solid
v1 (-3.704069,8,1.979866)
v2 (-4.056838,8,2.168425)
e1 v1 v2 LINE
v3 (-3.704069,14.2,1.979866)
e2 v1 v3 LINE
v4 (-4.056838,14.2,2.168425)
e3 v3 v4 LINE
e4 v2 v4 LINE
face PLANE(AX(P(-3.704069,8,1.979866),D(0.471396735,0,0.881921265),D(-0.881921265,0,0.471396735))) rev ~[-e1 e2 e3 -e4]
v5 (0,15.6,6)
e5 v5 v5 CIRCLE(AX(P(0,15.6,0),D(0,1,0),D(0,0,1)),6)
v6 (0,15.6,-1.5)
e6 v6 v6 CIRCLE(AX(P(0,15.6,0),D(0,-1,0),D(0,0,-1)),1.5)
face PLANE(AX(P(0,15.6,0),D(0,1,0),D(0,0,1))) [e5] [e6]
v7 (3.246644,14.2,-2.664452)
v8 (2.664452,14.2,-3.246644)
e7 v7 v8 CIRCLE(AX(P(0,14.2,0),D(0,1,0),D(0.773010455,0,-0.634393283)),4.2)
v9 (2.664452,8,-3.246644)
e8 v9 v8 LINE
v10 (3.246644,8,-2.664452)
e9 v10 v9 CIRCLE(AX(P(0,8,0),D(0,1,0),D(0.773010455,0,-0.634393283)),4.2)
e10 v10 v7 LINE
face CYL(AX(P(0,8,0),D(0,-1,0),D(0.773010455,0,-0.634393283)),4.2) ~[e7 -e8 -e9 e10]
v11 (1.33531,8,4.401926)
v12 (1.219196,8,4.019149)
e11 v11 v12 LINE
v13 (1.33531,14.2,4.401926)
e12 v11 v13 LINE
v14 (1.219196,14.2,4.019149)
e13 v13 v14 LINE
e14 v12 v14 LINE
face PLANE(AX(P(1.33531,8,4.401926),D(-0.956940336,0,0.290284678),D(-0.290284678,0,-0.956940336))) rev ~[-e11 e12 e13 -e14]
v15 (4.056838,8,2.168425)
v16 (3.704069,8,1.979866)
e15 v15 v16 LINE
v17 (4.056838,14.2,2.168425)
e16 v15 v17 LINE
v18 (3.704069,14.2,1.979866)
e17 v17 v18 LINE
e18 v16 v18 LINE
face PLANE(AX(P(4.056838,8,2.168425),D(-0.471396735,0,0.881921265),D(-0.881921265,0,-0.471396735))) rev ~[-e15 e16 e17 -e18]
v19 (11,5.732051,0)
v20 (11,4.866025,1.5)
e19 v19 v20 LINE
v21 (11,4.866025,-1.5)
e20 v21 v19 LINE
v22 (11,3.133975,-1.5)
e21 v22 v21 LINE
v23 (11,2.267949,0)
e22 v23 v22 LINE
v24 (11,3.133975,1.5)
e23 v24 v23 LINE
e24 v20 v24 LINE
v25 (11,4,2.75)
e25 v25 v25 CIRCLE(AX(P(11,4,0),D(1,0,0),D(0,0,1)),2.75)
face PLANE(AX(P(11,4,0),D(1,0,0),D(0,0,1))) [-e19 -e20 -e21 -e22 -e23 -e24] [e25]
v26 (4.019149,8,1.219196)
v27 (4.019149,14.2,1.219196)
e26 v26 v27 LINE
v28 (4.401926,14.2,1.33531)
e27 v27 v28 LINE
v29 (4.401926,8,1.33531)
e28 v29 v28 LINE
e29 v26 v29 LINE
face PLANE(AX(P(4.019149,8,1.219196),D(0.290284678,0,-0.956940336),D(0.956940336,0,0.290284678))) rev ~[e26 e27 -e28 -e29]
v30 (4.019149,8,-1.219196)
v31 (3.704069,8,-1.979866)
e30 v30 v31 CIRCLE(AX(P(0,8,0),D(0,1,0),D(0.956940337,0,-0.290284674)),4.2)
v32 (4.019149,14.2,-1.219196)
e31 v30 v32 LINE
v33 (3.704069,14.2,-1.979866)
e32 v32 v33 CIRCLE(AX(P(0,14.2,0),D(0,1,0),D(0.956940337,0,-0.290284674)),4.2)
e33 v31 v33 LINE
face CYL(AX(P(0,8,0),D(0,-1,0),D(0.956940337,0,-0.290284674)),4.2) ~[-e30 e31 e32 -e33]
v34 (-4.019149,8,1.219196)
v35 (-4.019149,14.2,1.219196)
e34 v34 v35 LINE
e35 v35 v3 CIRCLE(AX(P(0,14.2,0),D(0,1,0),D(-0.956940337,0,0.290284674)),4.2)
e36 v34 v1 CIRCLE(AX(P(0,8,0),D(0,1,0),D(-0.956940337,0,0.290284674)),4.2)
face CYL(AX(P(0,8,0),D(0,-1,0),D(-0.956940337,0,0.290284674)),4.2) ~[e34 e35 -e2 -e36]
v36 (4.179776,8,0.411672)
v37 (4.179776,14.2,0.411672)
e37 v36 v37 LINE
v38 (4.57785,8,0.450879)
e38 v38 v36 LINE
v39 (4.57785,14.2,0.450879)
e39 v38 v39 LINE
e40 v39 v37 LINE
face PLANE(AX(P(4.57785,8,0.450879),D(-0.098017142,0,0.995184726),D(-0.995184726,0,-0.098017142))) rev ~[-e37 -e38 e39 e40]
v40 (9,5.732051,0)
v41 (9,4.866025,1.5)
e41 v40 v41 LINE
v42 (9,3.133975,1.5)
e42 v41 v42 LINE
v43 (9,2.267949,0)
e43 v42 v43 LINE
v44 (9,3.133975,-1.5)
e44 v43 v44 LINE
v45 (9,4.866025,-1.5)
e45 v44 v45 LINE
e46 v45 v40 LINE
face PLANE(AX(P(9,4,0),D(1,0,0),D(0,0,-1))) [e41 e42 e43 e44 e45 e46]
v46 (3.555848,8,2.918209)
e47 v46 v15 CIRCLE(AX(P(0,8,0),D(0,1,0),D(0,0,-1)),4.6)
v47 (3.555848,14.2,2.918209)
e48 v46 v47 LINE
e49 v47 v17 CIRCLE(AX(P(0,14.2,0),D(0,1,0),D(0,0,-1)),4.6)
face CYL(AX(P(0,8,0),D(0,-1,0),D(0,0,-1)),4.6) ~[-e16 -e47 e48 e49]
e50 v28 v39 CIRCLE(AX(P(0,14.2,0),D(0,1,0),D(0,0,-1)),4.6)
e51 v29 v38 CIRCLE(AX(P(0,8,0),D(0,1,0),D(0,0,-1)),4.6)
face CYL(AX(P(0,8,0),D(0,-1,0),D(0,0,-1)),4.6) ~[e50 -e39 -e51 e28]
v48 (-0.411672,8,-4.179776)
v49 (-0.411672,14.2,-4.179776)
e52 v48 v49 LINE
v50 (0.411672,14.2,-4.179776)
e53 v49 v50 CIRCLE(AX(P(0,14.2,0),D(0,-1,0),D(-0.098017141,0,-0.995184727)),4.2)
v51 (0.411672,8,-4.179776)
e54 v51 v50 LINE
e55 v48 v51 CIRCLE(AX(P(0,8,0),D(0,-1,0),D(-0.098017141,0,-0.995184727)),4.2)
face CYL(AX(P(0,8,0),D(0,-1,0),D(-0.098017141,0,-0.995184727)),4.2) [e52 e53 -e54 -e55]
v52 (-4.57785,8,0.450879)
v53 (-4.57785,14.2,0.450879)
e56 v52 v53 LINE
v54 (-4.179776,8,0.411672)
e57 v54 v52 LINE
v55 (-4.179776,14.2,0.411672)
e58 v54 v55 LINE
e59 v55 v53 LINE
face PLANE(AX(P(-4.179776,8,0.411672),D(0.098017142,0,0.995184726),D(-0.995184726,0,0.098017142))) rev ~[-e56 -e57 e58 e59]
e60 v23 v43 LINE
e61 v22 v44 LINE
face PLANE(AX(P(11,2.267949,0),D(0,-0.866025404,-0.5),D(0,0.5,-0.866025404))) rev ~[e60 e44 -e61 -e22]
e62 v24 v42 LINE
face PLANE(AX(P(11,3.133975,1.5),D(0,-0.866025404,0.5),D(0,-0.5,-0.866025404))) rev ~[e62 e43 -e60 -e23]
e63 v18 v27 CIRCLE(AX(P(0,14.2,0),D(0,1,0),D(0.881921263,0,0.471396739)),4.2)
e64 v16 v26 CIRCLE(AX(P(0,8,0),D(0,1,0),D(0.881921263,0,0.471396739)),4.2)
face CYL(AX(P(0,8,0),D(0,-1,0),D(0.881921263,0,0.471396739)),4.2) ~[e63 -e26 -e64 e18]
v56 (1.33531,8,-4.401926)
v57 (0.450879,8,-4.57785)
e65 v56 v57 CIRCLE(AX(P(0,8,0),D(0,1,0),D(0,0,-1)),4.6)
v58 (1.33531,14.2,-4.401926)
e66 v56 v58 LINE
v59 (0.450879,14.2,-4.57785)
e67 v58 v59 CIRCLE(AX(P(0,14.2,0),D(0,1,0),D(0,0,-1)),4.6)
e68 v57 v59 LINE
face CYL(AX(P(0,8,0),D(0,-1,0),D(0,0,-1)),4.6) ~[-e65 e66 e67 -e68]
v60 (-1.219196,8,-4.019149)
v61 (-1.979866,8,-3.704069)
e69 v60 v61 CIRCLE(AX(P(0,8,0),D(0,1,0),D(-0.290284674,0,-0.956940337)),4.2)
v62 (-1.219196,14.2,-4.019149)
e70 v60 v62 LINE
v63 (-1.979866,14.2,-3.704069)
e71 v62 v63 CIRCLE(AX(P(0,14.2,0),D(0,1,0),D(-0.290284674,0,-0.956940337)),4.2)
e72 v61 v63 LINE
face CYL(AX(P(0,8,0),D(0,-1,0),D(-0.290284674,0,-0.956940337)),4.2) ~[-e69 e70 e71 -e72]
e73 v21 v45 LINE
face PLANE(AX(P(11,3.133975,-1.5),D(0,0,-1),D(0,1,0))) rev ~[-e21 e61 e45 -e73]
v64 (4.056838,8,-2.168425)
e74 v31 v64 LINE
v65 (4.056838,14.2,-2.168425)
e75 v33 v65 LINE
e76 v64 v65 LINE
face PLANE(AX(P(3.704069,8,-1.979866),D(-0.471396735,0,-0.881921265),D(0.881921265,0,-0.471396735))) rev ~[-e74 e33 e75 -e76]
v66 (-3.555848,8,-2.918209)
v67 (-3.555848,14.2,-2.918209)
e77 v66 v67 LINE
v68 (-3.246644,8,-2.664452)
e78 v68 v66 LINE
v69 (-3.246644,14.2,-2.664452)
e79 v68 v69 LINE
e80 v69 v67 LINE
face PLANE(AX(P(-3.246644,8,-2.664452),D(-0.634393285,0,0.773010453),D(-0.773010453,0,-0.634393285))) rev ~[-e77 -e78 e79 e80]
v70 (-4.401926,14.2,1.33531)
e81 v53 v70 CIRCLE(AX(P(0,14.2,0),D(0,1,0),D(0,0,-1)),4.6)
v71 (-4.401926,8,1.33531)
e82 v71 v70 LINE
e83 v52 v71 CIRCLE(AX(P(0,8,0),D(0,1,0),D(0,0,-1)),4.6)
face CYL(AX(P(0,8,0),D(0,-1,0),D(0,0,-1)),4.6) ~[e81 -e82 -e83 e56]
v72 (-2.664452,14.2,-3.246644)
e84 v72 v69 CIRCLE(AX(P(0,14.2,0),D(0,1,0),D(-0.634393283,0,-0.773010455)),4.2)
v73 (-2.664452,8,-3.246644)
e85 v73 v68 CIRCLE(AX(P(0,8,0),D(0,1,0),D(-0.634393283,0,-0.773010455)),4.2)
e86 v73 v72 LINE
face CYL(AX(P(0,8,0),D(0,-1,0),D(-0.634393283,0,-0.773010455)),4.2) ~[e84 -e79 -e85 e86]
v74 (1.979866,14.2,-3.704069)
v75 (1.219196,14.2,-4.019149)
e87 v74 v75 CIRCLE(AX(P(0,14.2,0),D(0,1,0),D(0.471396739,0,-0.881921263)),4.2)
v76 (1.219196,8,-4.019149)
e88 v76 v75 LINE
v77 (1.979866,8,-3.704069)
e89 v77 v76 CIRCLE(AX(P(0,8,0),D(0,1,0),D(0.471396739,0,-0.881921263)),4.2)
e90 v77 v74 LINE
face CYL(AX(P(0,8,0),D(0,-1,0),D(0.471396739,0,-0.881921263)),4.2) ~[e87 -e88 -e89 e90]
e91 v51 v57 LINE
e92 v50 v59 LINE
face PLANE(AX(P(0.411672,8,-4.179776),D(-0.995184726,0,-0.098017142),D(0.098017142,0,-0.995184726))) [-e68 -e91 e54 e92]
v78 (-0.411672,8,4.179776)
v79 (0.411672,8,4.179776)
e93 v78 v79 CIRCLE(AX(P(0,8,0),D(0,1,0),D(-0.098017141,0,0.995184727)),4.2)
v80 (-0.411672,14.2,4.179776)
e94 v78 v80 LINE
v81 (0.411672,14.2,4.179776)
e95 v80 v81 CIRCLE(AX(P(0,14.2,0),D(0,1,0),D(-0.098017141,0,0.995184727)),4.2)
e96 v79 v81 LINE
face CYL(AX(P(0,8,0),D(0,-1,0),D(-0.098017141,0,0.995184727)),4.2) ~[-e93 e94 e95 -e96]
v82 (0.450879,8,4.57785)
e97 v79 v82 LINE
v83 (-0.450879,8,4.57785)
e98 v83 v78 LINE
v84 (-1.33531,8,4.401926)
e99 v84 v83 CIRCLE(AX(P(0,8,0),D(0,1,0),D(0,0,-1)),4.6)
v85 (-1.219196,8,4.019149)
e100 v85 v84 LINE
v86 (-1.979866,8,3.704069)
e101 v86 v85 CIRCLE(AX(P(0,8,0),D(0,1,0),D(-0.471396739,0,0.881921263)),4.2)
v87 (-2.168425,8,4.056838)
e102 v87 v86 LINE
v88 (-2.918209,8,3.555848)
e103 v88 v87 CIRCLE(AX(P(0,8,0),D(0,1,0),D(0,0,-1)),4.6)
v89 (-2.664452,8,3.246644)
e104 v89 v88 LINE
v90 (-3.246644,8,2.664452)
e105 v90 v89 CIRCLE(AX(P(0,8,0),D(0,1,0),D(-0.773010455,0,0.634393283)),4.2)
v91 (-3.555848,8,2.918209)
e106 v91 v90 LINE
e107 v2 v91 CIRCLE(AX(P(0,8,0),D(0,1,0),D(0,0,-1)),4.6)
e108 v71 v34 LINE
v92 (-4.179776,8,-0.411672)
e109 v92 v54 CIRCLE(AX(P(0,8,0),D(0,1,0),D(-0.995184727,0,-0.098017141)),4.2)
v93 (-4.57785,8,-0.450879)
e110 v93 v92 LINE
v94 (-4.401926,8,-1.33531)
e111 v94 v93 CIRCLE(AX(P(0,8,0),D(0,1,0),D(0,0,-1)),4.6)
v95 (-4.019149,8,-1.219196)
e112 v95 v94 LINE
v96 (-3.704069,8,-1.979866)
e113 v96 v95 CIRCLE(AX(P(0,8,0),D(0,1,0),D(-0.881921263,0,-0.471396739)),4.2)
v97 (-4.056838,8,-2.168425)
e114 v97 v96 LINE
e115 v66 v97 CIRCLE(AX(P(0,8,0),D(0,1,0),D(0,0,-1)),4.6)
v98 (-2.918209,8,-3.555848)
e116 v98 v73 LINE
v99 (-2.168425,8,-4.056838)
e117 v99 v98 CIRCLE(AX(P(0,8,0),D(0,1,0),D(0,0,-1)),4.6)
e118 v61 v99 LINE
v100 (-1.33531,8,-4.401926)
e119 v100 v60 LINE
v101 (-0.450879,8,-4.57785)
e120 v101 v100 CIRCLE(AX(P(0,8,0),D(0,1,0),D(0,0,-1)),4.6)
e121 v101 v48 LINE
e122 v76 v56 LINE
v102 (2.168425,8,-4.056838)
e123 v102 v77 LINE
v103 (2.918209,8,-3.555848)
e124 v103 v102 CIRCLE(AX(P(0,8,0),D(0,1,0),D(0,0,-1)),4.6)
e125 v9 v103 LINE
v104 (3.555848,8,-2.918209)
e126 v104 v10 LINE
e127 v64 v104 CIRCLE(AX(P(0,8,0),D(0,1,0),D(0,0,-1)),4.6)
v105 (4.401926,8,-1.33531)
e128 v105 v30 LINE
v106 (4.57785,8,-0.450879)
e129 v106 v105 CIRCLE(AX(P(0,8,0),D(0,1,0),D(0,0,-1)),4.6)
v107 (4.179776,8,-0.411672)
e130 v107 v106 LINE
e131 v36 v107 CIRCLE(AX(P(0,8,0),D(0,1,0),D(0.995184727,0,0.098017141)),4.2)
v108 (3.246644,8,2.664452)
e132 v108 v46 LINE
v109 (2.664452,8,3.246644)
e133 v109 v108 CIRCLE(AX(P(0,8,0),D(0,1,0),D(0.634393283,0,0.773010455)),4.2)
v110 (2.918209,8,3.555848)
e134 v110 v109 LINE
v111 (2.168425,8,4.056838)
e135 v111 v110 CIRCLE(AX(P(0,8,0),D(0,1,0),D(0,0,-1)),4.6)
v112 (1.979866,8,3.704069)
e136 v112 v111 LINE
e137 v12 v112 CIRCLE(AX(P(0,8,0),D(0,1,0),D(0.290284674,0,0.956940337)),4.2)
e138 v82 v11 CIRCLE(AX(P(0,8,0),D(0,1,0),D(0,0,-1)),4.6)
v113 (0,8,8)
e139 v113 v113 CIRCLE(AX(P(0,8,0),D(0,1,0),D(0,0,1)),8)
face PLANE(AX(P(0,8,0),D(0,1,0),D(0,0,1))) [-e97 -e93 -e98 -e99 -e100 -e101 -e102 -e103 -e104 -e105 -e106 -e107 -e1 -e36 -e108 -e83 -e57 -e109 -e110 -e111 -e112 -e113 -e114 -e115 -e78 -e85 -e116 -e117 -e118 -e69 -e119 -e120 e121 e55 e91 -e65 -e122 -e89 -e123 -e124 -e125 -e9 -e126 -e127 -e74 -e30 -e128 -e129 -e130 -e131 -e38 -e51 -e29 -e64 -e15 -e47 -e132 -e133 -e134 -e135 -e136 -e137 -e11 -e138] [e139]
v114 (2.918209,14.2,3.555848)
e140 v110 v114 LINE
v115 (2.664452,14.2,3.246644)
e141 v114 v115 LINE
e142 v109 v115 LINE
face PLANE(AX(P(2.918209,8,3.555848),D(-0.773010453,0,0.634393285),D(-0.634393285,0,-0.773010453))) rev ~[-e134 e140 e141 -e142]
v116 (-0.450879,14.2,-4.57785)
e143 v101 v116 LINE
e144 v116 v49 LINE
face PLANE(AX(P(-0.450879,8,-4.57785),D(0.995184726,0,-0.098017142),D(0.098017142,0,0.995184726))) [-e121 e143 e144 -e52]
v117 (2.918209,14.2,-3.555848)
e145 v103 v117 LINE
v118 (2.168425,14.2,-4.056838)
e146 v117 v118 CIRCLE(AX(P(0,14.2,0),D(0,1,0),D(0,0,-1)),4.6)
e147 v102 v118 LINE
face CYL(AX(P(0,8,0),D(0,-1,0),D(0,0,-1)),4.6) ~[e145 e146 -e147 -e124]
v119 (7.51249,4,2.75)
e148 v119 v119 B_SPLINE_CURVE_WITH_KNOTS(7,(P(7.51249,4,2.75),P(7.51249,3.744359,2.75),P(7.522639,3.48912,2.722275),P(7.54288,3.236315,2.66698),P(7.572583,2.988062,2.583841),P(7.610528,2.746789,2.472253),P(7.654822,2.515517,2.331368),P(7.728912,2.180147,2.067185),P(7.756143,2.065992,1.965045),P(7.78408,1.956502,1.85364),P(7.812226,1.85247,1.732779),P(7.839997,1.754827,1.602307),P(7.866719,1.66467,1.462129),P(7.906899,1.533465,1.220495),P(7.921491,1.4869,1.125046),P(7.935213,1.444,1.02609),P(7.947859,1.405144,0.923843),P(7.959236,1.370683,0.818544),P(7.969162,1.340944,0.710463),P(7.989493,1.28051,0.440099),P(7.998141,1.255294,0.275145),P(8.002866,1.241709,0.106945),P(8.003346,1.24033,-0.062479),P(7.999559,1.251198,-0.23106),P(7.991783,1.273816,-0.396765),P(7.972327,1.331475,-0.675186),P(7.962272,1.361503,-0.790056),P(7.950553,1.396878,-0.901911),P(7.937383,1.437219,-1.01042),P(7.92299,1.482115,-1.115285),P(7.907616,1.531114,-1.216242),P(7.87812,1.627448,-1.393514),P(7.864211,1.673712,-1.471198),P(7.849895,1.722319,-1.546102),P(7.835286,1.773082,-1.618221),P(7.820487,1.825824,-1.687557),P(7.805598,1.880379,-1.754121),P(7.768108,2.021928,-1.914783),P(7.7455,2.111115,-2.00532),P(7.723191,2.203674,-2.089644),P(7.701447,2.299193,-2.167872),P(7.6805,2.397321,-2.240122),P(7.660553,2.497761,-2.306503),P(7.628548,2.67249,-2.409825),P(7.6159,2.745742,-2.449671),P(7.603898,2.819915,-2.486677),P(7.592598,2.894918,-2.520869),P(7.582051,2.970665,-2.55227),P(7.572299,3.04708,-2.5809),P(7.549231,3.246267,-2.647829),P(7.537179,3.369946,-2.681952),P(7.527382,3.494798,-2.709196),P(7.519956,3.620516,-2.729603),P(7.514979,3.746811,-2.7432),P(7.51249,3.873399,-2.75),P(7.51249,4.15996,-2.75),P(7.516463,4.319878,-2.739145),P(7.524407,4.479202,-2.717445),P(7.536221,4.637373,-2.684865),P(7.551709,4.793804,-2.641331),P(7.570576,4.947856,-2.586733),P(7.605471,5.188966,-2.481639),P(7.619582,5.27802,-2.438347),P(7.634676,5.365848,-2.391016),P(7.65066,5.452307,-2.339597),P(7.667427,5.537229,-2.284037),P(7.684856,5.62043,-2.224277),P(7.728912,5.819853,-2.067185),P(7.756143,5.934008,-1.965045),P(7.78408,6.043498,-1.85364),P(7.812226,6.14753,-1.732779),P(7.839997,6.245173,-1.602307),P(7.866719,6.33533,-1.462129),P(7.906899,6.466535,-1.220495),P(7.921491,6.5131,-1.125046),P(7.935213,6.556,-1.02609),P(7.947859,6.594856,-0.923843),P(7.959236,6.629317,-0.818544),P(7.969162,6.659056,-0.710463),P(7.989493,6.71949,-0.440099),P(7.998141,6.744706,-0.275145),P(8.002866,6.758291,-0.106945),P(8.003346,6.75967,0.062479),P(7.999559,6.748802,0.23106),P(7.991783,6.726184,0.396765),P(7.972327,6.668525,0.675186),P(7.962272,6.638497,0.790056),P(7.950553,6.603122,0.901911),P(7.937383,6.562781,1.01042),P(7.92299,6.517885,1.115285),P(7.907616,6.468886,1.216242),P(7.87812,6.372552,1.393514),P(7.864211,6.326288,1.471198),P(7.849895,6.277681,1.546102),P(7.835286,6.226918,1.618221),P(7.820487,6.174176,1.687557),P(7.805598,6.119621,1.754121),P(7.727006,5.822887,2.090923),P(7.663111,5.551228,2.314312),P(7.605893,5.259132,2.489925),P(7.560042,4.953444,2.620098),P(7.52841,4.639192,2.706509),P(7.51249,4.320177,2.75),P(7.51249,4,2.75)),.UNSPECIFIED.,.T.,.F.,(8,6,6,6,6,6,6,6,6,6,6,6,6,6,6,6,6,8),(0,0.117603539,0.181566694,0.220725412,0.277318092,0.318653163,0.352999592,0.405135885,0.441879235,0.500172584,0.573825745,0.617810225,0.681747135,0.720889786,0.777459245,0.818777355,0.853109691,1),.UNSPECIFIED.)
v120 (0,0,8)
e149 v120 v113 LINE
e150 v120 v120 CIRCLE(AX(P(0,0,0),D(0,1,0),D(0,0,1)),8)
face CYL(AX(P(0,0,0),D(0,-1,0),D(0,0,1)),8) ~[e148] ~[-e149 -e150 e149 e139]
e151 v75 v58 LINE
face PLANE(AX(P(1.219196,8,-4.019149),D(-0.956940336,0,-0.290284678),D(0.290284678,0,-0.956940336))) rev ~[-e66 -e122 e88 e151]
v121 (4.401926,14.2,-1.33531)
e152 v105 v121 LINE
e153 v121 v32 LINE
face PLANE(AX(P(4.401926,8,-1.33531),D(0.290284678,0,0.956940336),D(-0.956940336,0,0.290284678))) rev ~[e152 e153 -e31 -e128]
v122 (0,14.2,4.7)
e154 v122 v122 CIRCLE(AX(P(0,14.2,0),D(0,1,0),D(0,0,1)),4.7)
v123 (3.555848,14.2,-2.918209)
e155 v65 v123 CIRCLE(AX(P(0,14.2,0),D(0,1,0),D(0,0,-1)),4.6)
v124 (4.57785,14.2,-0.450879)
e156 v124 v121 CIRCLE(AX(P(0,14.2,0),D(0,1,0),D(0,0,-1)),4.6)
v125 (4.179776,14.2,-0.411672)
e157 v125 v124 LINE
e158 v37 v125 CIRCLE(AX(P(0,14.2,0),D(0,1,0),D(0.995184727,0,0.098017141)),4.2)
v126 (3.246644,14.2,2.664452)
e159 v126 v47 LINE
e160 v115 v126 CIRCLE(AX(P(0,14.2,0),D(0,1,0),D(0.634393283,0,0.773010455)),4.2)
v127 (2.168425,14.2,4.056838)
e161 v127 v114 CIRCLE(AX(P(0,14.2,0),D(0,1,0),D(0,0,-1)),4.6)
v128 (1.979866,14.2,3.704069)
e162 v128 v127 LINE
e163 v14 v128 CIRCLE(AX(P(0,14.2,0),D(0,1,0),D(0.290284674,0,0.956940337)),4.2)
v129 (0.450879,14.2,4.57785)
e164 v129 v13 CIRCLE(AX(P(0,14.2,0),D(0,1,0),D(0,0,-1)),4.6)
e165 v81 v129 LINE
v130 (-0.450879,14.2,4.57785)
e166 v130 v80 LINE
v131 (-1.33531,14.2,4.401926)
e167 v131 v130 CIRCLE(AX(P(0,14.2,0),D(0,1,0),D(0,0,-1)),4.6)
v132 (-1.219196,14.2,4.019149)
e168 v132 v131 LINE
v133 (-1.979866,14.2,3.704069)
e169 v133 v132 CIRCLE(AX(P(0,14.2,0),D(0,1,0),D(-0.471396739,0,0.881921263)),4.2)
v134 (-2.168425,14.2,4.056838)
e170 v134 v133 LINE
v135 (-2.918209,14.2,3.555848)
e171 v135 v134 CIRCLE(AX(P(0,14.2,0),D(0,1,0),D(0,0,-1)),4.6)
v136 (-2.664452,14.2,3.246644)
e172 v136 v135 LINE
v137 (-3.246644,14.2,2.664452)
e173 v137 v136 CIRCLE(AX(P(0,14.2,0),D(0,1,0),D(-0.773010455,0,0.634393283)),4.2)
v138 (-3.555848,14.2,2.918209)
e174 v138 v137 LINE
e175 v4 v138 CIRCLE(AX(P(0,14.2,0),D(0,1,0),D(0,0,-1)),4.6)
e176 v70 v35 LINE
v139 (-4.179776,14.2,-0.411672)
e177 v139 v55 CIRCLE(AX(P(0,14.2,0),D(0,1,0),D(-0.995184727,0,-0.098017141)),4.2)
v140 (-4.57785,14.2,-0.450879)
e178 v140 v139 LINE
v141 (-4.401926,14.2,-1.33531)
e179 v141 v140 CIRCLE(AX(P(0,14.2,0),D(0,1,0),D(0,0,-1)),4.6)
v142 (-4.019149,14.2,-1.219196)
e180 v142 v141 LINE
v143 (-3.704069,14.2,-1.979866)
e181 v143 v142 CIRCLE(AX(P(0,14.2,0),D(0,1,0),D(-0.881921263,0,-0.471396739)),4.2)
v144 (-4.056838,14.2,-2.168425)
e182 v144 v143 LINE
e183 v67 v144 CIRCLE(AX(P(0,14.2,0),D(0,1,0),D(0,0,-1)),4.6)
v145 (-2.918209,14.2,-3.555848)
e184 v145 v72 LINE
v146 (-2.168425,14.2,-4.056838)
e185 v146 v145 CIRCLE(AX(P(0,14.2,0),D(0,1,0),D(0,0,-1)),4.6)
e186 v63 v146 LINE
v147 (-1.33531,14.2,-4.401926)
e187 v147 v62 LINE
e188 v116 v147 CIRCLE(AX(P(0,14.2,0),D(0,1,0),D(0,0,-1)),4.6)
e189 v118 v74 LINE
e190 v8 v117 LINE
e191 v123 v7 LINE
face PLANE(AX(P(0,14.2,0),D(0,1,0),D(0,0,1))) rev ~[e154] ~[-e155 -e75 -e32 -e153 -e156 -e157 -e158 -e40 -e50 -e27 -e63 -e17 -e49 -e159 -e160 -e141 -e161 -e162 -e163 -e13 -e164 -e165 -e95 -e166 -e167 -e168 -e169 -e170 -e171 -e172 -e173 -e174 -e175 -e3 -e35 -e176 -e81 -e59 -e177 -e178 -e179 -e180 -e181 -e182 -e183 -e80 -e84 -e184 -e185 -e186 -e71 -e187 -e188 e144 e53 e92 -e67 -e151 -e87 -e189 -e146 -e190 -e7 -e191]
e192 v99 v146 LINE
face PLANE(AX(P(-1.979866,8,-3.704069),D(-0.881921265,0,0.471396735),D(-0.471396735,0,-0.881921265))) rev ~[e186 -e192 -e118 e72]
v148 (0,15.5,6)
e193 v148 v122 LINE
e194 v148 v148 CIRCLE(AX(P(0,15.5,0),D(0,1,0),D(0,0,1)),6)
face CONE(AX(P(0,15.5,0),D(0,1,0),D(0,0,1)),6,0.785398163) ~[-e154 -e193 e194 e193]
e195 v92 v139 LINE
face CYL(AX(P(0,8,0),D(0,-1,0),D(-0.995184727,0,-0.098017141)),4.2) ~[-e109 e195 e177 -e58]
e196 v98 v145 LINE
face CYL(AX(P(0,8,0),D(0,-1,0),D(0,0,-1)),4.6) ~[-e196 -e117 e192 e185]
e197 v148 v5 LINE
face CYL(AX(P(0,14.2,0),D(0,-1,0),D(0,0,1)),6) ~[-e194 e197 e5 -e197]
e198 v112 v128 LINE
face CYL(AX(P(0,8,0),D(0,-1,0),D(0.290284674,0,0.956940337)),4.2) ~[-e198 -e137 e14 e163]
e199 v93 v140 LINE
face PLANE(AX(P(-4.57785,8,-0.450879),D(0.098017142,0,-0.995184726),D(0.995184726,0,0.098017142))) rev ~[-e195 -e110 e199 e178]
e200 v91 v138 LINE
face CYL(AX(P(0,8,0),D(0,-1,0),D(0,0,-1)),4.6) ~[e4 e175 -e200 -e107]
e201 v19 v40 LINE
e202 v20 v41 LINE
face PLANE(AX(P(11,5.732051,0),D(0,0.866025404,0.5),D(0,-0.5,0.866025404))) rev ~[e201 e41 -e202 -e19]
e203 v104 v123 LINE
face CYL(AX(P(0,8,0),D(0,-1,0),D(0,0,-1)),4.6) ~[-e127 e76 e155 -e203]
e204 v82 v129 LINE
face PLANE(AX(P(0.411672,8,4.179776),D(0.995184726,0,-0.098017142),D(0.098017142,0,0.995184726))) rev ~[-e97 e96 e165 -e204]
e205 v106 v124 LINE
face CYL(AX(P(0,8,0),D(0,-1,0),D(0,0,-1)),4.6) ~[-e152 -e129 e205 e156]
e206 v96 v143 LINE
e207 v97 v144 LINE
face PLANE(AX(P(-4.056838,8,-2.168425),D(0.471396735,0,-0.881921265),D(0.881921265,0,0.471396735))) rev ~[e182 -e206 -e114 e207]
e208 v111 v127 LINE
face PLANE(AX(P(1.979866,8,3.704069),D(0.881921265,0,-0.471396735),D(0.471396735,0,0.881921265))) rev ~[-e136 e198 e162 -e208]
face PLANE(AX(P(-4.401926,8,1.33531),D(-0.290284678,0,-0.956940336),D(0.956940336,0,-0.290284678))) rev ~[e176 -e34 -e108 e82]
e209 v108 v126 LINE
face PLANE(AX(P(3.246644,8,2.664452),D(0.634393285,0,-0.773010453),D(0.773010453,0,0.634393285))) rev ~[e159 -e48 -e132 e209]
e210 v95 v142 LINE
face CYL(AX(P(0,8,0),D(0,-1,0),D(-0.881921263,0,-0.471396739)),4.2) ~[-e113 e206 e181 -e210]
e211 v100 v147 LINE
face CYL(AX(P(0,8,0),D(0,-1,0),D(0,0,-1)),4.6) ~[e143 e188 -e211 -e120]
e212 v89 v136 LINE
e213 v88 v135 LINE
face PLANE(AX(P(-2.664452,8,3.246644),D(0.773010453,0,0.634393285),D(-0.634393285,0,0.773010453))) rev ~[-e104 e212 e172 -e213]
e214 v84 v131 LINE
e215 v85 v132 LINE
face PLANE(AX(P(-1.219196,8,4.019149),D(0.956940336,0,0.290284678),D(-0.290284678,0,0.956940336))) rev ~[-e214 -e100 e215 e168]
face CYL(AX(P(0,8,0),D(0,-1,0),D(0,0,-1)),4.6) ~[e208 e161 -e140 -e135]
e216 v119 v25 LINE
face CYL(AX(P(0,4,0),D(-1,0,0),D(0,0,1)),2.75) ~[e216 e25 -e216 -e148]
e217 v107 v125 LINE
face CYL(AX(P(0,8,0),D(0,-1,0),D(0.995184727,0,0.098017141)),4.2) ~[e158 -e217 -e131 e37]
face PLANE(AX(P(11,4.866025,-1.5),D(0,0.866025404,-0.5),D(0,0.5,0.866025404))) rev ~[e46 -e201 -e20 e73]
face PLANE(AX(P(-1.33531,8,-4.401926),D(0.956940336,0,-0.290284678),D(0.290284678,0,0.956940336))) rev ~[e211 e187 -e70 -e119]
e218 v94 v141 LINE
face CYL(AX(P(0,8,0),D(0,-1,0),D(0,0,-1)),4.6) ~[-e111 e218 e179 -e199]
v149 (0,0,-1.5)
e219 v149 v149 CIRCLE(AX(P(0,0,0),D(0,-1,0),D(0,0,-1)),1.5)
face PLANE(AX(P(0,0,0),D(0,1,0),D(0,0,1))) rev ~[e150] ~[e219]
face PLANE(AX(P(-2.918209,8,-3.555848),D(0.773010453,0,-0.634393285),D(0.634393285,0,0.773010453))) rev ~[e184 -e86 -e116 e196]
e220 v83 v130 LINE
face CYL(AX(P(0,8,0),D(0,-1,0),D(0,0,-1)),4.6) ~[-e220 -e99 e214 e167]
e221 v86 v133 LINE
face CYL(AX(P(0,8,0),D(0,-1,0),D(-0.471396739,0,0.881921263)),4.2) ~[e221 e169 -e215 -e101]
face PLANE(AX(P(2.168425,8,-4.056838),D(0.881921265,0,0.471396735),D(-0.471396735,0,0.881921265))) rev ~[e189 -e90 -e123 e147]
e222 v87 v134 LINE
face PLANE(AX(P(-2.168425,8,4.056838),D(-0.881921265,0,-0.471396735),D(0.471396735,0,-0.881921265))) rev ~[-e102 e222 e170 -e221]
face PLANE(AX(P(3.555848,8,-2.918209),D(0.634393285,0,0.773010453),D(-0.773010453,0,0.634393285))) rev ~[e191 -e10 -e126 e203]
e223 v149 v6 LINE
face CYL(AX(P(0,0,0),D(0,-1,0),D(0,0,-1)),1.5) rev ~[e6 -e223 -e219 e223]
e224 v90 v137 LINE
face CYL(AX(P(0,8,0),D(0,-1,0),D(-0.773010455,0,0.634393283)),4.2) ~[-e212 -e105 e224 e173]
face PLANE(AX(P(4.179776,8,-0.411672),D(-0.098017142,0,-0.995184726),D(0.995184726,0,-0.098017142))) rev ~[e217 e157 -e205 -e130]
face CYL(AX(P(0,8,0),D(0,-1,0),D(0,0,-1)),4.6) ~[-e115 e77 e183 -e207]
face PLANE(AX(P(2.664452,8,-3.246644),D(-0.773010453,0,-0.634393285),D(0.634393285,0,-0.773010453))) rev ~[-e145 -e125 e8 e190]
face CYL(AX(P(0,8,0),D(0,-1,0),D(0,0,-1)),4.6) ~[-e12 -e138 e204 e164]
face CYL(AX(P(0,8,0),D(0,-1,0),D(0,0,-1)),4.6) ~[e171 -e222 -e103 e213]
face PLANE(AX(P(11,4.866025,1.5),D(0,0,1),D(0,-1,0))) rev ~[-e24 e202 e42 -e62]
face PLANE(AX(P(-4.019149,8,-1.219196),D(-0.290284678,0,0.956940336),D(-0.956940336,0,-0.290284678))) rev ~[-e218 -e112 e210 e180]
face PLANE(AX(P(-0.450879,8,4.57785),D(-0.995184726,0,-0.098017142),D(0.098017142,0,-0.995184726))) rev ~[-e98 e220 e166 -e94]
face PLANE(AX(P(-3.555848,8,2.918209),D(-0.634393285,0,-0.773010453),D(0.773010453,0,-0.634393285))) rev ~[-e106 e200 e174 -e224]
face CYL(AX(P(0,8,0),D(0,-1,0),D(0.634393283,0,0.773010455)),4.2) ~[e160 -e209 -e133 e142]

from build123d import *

# Parameters (mm, degrees)
SKETCH1_R           = 8
BOSS_EXTRUDE1_DEPTH = 8
SKETCH2_R           = 4.6
BOSS_EXTRUDE2_DEPTH = 6.2
CUT_EXTRUDE2_START  = -6.2
CUT_EXTRUDE2_DEPTH  = 6.2
SKETCH3_R           = 6
BOSS_EXTRUDE3_DEPTH = 1.4
CHAMFER1_SIZE       = 1.3
SKETCH4_R           = 2.75
BOSS_EXTRUDE4_DEPTH = 11
CUT_EXTRUDE1_DEPTH  = 2
SKETCH7_R           = 1.5
CUT_EXTRUDE3_DEPTH  = 21.696859757


with BuildPart() as part:
    # Sketch1 → Boss-Extrude1 (new body)
    with BuildSketch(Plane(origin=(0, 0, 0), x_dir=(1, 0, 0), z_dir=(0, 1, 0))):
        with Locations(Location((0, 0, 0), (0, 0, 270))):
            Circle(SKETCH1_R)
    extrude(amount=BOSS_EXTRUDE1_DEPTH)

    # Sketch2 → Boss-Extrude2 (add)
    with BuildSketch(Plane(origin=(0, 8, 0), x_dir=(1, 0, 0), z_dir=(0, 1, 0))):
        with Locations(Location((0, 0, 0), (0, 0, 90))):
            Circle(SKETCH2_R)
    extrude(amount=BOSS_EXTRUDE2_DEPTH)

    # Sketch6 → Cut-Extrude2 (cut)
    with BuildSketch(Plane(origin=(0, 14.2, 0), x_dir=(1, 0, 0), z_dir=(0, 1, 0)).offset(CUT_EXTRUDE2_START)):
        with BuildLine():
            Line((-0.450878846, 4.577849743), (-0.411671989, 4.179775852))
            ThreePointArc((-0.411671989, 4.179775852), (0, 4.2), (0.411671989, 4.179775852))
            Line((0.411671989, 4.179775852), (0.450878846, 4.577849743))
            ThreePointArc((0.450878846, 4.577849743), (0, 4.6), (-0.450878846, 4.577849743))
        make_face()
        with BuildLine():
            Line((2.168424989, 4.056837816), (1.979866295, 3.70406931))
            ThreePointArc((1.979866295, 3.70406931), (1.607270416, 3.880294037), (1.219195644, 4.01914941))
            Line((1.219195644, 4.01914941), (1.335309515, 4.401925544))
            ThreePointArc((1.335309515, 4.401925544), (1.760343789, 4.24984585), (2.168424989, 4.056837816))
        make_face()
        with BuildLine():
            Line((3.555848085, 2.918209107), (3.246643904, 2.664451793))
            ThreePointArc((3.246643904, 2.664451793), (2.969848481, 2.969848481), (2.664451793, 3.246643904))
            Line((2.664451793, 3.246643904), (2.918209107, 3.555848085))
            ThreePointArc((2.918209107, 3.555848085), (3.252691193, 3.252691193), (3.555848085, 2.918209107))
        make_face()
        with BuildLine():
            Line((4.401925544, 1.335309515), (4.01914941, 1.219195644))
            ThreePointArc((4.01914941, 1.219195644), (3.880294037, 1.607270416), (3.70406931, 1.979866295))
            Line((3.70406931, 1.979866295), (4.056837816, 2.168424989))
            ThreePointArc((4.056837816, 2.168424989), (4.24984585, 1.760343789), (4.401925544, 1.335309515))
        make_face()
        with BuildLine():
            Line((4.577849743, -0.450878846), (4.179775852, -0.411671989))
            ThreePointArc((4.179775852, -0.411671989), (4.2, 0), (4.179775852, 0.411671989))
            Line((4.179775852, 0.411671989), (4.577849743, 0.450878846))
            ThreePointArc((4.577849743, 0.450878846), (4.6, 0), (4.577849743, -0.450878846))
        make_face()
        with BuildLine():
            Line((4.056837816, -2.168424989), (3.70406931, -1.979866295))
            ThreePointArc((3.70406931, -1.979866295), (3.880294037, -1.607270416), (4.01914941, -1.219195644))
            Line((4.01914941, -1.219195644), (4.401925544, -1.335309515))
            ThreePointArc((4.401925544, -1.335309515), (4.24984585, -1.760343789), (4.056837816, -2.168424989))
        make_face()
        with BuildLine():
            Line((2.918209107, -3.555848085), (2.664451793, -3.246643904))
            ThreePointArc((2.664451793, -3.246643904), (2.969848481, -2.969848481), (3.246643904, -2.664451793))
            Line((3.246643904, -2.664451793), (3.555848085, -2.918209107))
            ThreePointArc((3.555848085, -2.918209107), (3.252691193, -3.252691193), (2.918209107, -3.555848085))
        make_face()
        with BuildLine():
            Line((1.335309515, -4.401925544), (1.219195644, -4.01914941))
            ThreePointArc((1.219195644, -4.01914941), (1.607270416, -3.880294037), (1.979866295, -3.70406931))
            Line((1.979866295, -3.70406931), (2.168424989, -4.056837816))
            ThreePointArc((2.168424989, -4.056837816), (1.760343789, -4.24984585), (1.335309515, -4.401925544))
        make_face()
        with BuildLine():
            Line((-0.450878846, -4.577849743), (-0.411671989, -4.179775852))
            ThreePointArc((-0.411671989, -4.179775852), (0, -4.2), (0.411671989, -4.179775852))
            Line((0.411671989, -4.179775852), (0.450878846, -4.577849743))
            ThreePointArc((0.450878846, -4.577849743), (0, -4.6), (-0.450878846, -4.577849743))
        make_face()
        with BuildLine():
            Line((-2.168424989, -4.056837816), (-1.979866295, -3.70406931))
            ThreePointArc((-1.979866295, -3.70406931), (-1.607270416, -3.880294037), (-1.219195644, -4.01914941))
            Line((-1.219195644, -4.01914941), (-1.335309515, -4.401925544))
            ThreePointArc((-1.335309515, -4.401925544), (-1.760343789, -4.24984585), (-2.168424989, -4.056837816))
        make_face()
        with BuildLine():
            Line((-3.555848085, -2.918209107), (-3.246643904, -2.664451793))
            ThreePointArc((-3.246643904, -2.664451793), (-2.969848481, -2.969848481), (-2.664451793, -3.246643904))
            Line((-2.664451793, -3.246643904), (-2.918209107, -3.555848085))
            ThreePointArc((-2.918209107, -3.555848085), (-3.252691193, -3.252691193), (-3.555848085, -2.918209107))
        make_face()
        with BuildLine():
            Line((-4.401925544, -1.335309515), (-4.01914941, -1.219195644))
            ThreePointArc((-4.01914941, -1.219195644), (-3.880294037, -1.607270416), (-3.70406931, -1.979866295))
            Line((-3.70406931, -1.979866295), (-4.056837816, -2.168424989))
            ThreePointArc((-4.056837816, -2.168424989), (-4.24984585, -1.760343789), (-4.401925544, -1.335309515))
        make_face()
        with BuildLine():
            Line((-4.577849743, 0.450878846), (-4.179775852, 0.411671989))
            ThreePointArc((-4.179775852, 0.411671989), (-4.2, 0), (-4.179775852, -0.411671989))
            Line((-4.179775852, -0.411671989), (-4.577849743, -0.450878846))
            ThreePointArc((-4.577849743, -0.450878846), (-4.6, 0), (-4.577849743, 0.450878846))
        make_face()
        with BuildLine():
            Line((-4.056837816, 2.168424989), (-3.70406931, 1.979866295))
            ThreePointArc((-3.70406931, 1.979866295), (-3.880294037, 1.607270416), (-4.01914941, 1.219195644))
            Line((-4.01914941, 1.219195644), (-4.401925544, 1.335309515))
            ThreePointArc((-4.401925544, 1.335309515), (-4.24984585, 1.760343789), (-4.056837816, 2.168424989))
        make_face()
        with BuildLine():
            Line((-2.918209107, 3.555848085), (-2.664451793, 3.246643904))
            ThreePointArc((-2.664451793, 3.246643904), (-2.969848481, 2.969848481), (-3.246643904, 2.664451793))
            Line((-3.246643904, 2.664451793), (-3.555848085, 2.918209107))
            ThreePointArc((-3.555848085, 2.918209107), (-3.252691193, 3.252691193), (-2.918209107, 3.555848085))
        make_face()
        with BuildLine():
            Line((-1.335309515, 4.401925544), (-1.219195644, 4.01914941))
            ThreePointArc((-1.219195644, 4.01914941), (-1.607270416, 3.880294037), (-1.979866295, 3.70406931))
            Line((-1.979866295, 3.70406931), (-2.168424989, 4.056837816))
            ThreePointArc((-2.168424989, 4.056837816), (-1.760343789, 4.24984585), (-1.335309515, 4.401925544))
        make_face()
    extrude(amount=CUT_EXTRUDE2_DEPTH, mode=Mode.SUBTRACT)

    # Sketch3 → Boss-Extrude3 (add)
    with BuildSketch(Plane(origin=(0, 14.2, 0), x_dir=(1, 0, 0), z_dir=(0, 1, 0))):
        with Locations(Location((0, 0, 0), (0, 0, 270))):
            Circle(SKETCH3_R)
    extrude(amount=BOSS_EXTRUDE3_DEPTH)

    # Chamfer1
    chamfer1_edges = [part.edges().sort_by_distance(p)[0] for p in [
        (0, 14.2, -6),
    ]]
    chamfer(chamfer1_edges, length=CHAMFER1_SIZE)

    # Sketch4 → Boss-Extrude4 (add)
    with BuildSketch(Plane(origin=(0, 0, 0), x_dir=(0, 0, -1), z_dir=(1, 0, 0))):
        with Locations(Location((0, 4, 0), (0, 0, 180))):
            Circle(SKETCH4_R)
    extrude(amount=BOSS_EXTRUDE4_DEPTH)

    # Sketch5 → Cut-Extrude1 (cut)
    with BuildSketch(Plane(origin=(11, 0, 0), x_dir=(0, 0, -1), z_dir=(1, 0, 0))):
        Polygon((0, 2.267949192), (1.5, 3.133974596), (1.5, 4.866025404), (0, 5.732050808), (-1.5, 4.866025404), (-1.5, 3.133974596), align=None)
    extrude(amount=-CUT_EXTRUDE1_DEPTH, mode=Mode.SUBTRACT)

    # Sketch7 → Cut-Extrude3 (cut, through all)
    with BuildSketch(Plane.XZ):
        with Locations(Location((0, 0, 0), (0, 0, 270))):
            Circle(SKETCH7_R)
    extrude(amount=-CUT_EXTRUDE3_DEPTH, mode=Mode.SUBTRACT)


solid = part.part
